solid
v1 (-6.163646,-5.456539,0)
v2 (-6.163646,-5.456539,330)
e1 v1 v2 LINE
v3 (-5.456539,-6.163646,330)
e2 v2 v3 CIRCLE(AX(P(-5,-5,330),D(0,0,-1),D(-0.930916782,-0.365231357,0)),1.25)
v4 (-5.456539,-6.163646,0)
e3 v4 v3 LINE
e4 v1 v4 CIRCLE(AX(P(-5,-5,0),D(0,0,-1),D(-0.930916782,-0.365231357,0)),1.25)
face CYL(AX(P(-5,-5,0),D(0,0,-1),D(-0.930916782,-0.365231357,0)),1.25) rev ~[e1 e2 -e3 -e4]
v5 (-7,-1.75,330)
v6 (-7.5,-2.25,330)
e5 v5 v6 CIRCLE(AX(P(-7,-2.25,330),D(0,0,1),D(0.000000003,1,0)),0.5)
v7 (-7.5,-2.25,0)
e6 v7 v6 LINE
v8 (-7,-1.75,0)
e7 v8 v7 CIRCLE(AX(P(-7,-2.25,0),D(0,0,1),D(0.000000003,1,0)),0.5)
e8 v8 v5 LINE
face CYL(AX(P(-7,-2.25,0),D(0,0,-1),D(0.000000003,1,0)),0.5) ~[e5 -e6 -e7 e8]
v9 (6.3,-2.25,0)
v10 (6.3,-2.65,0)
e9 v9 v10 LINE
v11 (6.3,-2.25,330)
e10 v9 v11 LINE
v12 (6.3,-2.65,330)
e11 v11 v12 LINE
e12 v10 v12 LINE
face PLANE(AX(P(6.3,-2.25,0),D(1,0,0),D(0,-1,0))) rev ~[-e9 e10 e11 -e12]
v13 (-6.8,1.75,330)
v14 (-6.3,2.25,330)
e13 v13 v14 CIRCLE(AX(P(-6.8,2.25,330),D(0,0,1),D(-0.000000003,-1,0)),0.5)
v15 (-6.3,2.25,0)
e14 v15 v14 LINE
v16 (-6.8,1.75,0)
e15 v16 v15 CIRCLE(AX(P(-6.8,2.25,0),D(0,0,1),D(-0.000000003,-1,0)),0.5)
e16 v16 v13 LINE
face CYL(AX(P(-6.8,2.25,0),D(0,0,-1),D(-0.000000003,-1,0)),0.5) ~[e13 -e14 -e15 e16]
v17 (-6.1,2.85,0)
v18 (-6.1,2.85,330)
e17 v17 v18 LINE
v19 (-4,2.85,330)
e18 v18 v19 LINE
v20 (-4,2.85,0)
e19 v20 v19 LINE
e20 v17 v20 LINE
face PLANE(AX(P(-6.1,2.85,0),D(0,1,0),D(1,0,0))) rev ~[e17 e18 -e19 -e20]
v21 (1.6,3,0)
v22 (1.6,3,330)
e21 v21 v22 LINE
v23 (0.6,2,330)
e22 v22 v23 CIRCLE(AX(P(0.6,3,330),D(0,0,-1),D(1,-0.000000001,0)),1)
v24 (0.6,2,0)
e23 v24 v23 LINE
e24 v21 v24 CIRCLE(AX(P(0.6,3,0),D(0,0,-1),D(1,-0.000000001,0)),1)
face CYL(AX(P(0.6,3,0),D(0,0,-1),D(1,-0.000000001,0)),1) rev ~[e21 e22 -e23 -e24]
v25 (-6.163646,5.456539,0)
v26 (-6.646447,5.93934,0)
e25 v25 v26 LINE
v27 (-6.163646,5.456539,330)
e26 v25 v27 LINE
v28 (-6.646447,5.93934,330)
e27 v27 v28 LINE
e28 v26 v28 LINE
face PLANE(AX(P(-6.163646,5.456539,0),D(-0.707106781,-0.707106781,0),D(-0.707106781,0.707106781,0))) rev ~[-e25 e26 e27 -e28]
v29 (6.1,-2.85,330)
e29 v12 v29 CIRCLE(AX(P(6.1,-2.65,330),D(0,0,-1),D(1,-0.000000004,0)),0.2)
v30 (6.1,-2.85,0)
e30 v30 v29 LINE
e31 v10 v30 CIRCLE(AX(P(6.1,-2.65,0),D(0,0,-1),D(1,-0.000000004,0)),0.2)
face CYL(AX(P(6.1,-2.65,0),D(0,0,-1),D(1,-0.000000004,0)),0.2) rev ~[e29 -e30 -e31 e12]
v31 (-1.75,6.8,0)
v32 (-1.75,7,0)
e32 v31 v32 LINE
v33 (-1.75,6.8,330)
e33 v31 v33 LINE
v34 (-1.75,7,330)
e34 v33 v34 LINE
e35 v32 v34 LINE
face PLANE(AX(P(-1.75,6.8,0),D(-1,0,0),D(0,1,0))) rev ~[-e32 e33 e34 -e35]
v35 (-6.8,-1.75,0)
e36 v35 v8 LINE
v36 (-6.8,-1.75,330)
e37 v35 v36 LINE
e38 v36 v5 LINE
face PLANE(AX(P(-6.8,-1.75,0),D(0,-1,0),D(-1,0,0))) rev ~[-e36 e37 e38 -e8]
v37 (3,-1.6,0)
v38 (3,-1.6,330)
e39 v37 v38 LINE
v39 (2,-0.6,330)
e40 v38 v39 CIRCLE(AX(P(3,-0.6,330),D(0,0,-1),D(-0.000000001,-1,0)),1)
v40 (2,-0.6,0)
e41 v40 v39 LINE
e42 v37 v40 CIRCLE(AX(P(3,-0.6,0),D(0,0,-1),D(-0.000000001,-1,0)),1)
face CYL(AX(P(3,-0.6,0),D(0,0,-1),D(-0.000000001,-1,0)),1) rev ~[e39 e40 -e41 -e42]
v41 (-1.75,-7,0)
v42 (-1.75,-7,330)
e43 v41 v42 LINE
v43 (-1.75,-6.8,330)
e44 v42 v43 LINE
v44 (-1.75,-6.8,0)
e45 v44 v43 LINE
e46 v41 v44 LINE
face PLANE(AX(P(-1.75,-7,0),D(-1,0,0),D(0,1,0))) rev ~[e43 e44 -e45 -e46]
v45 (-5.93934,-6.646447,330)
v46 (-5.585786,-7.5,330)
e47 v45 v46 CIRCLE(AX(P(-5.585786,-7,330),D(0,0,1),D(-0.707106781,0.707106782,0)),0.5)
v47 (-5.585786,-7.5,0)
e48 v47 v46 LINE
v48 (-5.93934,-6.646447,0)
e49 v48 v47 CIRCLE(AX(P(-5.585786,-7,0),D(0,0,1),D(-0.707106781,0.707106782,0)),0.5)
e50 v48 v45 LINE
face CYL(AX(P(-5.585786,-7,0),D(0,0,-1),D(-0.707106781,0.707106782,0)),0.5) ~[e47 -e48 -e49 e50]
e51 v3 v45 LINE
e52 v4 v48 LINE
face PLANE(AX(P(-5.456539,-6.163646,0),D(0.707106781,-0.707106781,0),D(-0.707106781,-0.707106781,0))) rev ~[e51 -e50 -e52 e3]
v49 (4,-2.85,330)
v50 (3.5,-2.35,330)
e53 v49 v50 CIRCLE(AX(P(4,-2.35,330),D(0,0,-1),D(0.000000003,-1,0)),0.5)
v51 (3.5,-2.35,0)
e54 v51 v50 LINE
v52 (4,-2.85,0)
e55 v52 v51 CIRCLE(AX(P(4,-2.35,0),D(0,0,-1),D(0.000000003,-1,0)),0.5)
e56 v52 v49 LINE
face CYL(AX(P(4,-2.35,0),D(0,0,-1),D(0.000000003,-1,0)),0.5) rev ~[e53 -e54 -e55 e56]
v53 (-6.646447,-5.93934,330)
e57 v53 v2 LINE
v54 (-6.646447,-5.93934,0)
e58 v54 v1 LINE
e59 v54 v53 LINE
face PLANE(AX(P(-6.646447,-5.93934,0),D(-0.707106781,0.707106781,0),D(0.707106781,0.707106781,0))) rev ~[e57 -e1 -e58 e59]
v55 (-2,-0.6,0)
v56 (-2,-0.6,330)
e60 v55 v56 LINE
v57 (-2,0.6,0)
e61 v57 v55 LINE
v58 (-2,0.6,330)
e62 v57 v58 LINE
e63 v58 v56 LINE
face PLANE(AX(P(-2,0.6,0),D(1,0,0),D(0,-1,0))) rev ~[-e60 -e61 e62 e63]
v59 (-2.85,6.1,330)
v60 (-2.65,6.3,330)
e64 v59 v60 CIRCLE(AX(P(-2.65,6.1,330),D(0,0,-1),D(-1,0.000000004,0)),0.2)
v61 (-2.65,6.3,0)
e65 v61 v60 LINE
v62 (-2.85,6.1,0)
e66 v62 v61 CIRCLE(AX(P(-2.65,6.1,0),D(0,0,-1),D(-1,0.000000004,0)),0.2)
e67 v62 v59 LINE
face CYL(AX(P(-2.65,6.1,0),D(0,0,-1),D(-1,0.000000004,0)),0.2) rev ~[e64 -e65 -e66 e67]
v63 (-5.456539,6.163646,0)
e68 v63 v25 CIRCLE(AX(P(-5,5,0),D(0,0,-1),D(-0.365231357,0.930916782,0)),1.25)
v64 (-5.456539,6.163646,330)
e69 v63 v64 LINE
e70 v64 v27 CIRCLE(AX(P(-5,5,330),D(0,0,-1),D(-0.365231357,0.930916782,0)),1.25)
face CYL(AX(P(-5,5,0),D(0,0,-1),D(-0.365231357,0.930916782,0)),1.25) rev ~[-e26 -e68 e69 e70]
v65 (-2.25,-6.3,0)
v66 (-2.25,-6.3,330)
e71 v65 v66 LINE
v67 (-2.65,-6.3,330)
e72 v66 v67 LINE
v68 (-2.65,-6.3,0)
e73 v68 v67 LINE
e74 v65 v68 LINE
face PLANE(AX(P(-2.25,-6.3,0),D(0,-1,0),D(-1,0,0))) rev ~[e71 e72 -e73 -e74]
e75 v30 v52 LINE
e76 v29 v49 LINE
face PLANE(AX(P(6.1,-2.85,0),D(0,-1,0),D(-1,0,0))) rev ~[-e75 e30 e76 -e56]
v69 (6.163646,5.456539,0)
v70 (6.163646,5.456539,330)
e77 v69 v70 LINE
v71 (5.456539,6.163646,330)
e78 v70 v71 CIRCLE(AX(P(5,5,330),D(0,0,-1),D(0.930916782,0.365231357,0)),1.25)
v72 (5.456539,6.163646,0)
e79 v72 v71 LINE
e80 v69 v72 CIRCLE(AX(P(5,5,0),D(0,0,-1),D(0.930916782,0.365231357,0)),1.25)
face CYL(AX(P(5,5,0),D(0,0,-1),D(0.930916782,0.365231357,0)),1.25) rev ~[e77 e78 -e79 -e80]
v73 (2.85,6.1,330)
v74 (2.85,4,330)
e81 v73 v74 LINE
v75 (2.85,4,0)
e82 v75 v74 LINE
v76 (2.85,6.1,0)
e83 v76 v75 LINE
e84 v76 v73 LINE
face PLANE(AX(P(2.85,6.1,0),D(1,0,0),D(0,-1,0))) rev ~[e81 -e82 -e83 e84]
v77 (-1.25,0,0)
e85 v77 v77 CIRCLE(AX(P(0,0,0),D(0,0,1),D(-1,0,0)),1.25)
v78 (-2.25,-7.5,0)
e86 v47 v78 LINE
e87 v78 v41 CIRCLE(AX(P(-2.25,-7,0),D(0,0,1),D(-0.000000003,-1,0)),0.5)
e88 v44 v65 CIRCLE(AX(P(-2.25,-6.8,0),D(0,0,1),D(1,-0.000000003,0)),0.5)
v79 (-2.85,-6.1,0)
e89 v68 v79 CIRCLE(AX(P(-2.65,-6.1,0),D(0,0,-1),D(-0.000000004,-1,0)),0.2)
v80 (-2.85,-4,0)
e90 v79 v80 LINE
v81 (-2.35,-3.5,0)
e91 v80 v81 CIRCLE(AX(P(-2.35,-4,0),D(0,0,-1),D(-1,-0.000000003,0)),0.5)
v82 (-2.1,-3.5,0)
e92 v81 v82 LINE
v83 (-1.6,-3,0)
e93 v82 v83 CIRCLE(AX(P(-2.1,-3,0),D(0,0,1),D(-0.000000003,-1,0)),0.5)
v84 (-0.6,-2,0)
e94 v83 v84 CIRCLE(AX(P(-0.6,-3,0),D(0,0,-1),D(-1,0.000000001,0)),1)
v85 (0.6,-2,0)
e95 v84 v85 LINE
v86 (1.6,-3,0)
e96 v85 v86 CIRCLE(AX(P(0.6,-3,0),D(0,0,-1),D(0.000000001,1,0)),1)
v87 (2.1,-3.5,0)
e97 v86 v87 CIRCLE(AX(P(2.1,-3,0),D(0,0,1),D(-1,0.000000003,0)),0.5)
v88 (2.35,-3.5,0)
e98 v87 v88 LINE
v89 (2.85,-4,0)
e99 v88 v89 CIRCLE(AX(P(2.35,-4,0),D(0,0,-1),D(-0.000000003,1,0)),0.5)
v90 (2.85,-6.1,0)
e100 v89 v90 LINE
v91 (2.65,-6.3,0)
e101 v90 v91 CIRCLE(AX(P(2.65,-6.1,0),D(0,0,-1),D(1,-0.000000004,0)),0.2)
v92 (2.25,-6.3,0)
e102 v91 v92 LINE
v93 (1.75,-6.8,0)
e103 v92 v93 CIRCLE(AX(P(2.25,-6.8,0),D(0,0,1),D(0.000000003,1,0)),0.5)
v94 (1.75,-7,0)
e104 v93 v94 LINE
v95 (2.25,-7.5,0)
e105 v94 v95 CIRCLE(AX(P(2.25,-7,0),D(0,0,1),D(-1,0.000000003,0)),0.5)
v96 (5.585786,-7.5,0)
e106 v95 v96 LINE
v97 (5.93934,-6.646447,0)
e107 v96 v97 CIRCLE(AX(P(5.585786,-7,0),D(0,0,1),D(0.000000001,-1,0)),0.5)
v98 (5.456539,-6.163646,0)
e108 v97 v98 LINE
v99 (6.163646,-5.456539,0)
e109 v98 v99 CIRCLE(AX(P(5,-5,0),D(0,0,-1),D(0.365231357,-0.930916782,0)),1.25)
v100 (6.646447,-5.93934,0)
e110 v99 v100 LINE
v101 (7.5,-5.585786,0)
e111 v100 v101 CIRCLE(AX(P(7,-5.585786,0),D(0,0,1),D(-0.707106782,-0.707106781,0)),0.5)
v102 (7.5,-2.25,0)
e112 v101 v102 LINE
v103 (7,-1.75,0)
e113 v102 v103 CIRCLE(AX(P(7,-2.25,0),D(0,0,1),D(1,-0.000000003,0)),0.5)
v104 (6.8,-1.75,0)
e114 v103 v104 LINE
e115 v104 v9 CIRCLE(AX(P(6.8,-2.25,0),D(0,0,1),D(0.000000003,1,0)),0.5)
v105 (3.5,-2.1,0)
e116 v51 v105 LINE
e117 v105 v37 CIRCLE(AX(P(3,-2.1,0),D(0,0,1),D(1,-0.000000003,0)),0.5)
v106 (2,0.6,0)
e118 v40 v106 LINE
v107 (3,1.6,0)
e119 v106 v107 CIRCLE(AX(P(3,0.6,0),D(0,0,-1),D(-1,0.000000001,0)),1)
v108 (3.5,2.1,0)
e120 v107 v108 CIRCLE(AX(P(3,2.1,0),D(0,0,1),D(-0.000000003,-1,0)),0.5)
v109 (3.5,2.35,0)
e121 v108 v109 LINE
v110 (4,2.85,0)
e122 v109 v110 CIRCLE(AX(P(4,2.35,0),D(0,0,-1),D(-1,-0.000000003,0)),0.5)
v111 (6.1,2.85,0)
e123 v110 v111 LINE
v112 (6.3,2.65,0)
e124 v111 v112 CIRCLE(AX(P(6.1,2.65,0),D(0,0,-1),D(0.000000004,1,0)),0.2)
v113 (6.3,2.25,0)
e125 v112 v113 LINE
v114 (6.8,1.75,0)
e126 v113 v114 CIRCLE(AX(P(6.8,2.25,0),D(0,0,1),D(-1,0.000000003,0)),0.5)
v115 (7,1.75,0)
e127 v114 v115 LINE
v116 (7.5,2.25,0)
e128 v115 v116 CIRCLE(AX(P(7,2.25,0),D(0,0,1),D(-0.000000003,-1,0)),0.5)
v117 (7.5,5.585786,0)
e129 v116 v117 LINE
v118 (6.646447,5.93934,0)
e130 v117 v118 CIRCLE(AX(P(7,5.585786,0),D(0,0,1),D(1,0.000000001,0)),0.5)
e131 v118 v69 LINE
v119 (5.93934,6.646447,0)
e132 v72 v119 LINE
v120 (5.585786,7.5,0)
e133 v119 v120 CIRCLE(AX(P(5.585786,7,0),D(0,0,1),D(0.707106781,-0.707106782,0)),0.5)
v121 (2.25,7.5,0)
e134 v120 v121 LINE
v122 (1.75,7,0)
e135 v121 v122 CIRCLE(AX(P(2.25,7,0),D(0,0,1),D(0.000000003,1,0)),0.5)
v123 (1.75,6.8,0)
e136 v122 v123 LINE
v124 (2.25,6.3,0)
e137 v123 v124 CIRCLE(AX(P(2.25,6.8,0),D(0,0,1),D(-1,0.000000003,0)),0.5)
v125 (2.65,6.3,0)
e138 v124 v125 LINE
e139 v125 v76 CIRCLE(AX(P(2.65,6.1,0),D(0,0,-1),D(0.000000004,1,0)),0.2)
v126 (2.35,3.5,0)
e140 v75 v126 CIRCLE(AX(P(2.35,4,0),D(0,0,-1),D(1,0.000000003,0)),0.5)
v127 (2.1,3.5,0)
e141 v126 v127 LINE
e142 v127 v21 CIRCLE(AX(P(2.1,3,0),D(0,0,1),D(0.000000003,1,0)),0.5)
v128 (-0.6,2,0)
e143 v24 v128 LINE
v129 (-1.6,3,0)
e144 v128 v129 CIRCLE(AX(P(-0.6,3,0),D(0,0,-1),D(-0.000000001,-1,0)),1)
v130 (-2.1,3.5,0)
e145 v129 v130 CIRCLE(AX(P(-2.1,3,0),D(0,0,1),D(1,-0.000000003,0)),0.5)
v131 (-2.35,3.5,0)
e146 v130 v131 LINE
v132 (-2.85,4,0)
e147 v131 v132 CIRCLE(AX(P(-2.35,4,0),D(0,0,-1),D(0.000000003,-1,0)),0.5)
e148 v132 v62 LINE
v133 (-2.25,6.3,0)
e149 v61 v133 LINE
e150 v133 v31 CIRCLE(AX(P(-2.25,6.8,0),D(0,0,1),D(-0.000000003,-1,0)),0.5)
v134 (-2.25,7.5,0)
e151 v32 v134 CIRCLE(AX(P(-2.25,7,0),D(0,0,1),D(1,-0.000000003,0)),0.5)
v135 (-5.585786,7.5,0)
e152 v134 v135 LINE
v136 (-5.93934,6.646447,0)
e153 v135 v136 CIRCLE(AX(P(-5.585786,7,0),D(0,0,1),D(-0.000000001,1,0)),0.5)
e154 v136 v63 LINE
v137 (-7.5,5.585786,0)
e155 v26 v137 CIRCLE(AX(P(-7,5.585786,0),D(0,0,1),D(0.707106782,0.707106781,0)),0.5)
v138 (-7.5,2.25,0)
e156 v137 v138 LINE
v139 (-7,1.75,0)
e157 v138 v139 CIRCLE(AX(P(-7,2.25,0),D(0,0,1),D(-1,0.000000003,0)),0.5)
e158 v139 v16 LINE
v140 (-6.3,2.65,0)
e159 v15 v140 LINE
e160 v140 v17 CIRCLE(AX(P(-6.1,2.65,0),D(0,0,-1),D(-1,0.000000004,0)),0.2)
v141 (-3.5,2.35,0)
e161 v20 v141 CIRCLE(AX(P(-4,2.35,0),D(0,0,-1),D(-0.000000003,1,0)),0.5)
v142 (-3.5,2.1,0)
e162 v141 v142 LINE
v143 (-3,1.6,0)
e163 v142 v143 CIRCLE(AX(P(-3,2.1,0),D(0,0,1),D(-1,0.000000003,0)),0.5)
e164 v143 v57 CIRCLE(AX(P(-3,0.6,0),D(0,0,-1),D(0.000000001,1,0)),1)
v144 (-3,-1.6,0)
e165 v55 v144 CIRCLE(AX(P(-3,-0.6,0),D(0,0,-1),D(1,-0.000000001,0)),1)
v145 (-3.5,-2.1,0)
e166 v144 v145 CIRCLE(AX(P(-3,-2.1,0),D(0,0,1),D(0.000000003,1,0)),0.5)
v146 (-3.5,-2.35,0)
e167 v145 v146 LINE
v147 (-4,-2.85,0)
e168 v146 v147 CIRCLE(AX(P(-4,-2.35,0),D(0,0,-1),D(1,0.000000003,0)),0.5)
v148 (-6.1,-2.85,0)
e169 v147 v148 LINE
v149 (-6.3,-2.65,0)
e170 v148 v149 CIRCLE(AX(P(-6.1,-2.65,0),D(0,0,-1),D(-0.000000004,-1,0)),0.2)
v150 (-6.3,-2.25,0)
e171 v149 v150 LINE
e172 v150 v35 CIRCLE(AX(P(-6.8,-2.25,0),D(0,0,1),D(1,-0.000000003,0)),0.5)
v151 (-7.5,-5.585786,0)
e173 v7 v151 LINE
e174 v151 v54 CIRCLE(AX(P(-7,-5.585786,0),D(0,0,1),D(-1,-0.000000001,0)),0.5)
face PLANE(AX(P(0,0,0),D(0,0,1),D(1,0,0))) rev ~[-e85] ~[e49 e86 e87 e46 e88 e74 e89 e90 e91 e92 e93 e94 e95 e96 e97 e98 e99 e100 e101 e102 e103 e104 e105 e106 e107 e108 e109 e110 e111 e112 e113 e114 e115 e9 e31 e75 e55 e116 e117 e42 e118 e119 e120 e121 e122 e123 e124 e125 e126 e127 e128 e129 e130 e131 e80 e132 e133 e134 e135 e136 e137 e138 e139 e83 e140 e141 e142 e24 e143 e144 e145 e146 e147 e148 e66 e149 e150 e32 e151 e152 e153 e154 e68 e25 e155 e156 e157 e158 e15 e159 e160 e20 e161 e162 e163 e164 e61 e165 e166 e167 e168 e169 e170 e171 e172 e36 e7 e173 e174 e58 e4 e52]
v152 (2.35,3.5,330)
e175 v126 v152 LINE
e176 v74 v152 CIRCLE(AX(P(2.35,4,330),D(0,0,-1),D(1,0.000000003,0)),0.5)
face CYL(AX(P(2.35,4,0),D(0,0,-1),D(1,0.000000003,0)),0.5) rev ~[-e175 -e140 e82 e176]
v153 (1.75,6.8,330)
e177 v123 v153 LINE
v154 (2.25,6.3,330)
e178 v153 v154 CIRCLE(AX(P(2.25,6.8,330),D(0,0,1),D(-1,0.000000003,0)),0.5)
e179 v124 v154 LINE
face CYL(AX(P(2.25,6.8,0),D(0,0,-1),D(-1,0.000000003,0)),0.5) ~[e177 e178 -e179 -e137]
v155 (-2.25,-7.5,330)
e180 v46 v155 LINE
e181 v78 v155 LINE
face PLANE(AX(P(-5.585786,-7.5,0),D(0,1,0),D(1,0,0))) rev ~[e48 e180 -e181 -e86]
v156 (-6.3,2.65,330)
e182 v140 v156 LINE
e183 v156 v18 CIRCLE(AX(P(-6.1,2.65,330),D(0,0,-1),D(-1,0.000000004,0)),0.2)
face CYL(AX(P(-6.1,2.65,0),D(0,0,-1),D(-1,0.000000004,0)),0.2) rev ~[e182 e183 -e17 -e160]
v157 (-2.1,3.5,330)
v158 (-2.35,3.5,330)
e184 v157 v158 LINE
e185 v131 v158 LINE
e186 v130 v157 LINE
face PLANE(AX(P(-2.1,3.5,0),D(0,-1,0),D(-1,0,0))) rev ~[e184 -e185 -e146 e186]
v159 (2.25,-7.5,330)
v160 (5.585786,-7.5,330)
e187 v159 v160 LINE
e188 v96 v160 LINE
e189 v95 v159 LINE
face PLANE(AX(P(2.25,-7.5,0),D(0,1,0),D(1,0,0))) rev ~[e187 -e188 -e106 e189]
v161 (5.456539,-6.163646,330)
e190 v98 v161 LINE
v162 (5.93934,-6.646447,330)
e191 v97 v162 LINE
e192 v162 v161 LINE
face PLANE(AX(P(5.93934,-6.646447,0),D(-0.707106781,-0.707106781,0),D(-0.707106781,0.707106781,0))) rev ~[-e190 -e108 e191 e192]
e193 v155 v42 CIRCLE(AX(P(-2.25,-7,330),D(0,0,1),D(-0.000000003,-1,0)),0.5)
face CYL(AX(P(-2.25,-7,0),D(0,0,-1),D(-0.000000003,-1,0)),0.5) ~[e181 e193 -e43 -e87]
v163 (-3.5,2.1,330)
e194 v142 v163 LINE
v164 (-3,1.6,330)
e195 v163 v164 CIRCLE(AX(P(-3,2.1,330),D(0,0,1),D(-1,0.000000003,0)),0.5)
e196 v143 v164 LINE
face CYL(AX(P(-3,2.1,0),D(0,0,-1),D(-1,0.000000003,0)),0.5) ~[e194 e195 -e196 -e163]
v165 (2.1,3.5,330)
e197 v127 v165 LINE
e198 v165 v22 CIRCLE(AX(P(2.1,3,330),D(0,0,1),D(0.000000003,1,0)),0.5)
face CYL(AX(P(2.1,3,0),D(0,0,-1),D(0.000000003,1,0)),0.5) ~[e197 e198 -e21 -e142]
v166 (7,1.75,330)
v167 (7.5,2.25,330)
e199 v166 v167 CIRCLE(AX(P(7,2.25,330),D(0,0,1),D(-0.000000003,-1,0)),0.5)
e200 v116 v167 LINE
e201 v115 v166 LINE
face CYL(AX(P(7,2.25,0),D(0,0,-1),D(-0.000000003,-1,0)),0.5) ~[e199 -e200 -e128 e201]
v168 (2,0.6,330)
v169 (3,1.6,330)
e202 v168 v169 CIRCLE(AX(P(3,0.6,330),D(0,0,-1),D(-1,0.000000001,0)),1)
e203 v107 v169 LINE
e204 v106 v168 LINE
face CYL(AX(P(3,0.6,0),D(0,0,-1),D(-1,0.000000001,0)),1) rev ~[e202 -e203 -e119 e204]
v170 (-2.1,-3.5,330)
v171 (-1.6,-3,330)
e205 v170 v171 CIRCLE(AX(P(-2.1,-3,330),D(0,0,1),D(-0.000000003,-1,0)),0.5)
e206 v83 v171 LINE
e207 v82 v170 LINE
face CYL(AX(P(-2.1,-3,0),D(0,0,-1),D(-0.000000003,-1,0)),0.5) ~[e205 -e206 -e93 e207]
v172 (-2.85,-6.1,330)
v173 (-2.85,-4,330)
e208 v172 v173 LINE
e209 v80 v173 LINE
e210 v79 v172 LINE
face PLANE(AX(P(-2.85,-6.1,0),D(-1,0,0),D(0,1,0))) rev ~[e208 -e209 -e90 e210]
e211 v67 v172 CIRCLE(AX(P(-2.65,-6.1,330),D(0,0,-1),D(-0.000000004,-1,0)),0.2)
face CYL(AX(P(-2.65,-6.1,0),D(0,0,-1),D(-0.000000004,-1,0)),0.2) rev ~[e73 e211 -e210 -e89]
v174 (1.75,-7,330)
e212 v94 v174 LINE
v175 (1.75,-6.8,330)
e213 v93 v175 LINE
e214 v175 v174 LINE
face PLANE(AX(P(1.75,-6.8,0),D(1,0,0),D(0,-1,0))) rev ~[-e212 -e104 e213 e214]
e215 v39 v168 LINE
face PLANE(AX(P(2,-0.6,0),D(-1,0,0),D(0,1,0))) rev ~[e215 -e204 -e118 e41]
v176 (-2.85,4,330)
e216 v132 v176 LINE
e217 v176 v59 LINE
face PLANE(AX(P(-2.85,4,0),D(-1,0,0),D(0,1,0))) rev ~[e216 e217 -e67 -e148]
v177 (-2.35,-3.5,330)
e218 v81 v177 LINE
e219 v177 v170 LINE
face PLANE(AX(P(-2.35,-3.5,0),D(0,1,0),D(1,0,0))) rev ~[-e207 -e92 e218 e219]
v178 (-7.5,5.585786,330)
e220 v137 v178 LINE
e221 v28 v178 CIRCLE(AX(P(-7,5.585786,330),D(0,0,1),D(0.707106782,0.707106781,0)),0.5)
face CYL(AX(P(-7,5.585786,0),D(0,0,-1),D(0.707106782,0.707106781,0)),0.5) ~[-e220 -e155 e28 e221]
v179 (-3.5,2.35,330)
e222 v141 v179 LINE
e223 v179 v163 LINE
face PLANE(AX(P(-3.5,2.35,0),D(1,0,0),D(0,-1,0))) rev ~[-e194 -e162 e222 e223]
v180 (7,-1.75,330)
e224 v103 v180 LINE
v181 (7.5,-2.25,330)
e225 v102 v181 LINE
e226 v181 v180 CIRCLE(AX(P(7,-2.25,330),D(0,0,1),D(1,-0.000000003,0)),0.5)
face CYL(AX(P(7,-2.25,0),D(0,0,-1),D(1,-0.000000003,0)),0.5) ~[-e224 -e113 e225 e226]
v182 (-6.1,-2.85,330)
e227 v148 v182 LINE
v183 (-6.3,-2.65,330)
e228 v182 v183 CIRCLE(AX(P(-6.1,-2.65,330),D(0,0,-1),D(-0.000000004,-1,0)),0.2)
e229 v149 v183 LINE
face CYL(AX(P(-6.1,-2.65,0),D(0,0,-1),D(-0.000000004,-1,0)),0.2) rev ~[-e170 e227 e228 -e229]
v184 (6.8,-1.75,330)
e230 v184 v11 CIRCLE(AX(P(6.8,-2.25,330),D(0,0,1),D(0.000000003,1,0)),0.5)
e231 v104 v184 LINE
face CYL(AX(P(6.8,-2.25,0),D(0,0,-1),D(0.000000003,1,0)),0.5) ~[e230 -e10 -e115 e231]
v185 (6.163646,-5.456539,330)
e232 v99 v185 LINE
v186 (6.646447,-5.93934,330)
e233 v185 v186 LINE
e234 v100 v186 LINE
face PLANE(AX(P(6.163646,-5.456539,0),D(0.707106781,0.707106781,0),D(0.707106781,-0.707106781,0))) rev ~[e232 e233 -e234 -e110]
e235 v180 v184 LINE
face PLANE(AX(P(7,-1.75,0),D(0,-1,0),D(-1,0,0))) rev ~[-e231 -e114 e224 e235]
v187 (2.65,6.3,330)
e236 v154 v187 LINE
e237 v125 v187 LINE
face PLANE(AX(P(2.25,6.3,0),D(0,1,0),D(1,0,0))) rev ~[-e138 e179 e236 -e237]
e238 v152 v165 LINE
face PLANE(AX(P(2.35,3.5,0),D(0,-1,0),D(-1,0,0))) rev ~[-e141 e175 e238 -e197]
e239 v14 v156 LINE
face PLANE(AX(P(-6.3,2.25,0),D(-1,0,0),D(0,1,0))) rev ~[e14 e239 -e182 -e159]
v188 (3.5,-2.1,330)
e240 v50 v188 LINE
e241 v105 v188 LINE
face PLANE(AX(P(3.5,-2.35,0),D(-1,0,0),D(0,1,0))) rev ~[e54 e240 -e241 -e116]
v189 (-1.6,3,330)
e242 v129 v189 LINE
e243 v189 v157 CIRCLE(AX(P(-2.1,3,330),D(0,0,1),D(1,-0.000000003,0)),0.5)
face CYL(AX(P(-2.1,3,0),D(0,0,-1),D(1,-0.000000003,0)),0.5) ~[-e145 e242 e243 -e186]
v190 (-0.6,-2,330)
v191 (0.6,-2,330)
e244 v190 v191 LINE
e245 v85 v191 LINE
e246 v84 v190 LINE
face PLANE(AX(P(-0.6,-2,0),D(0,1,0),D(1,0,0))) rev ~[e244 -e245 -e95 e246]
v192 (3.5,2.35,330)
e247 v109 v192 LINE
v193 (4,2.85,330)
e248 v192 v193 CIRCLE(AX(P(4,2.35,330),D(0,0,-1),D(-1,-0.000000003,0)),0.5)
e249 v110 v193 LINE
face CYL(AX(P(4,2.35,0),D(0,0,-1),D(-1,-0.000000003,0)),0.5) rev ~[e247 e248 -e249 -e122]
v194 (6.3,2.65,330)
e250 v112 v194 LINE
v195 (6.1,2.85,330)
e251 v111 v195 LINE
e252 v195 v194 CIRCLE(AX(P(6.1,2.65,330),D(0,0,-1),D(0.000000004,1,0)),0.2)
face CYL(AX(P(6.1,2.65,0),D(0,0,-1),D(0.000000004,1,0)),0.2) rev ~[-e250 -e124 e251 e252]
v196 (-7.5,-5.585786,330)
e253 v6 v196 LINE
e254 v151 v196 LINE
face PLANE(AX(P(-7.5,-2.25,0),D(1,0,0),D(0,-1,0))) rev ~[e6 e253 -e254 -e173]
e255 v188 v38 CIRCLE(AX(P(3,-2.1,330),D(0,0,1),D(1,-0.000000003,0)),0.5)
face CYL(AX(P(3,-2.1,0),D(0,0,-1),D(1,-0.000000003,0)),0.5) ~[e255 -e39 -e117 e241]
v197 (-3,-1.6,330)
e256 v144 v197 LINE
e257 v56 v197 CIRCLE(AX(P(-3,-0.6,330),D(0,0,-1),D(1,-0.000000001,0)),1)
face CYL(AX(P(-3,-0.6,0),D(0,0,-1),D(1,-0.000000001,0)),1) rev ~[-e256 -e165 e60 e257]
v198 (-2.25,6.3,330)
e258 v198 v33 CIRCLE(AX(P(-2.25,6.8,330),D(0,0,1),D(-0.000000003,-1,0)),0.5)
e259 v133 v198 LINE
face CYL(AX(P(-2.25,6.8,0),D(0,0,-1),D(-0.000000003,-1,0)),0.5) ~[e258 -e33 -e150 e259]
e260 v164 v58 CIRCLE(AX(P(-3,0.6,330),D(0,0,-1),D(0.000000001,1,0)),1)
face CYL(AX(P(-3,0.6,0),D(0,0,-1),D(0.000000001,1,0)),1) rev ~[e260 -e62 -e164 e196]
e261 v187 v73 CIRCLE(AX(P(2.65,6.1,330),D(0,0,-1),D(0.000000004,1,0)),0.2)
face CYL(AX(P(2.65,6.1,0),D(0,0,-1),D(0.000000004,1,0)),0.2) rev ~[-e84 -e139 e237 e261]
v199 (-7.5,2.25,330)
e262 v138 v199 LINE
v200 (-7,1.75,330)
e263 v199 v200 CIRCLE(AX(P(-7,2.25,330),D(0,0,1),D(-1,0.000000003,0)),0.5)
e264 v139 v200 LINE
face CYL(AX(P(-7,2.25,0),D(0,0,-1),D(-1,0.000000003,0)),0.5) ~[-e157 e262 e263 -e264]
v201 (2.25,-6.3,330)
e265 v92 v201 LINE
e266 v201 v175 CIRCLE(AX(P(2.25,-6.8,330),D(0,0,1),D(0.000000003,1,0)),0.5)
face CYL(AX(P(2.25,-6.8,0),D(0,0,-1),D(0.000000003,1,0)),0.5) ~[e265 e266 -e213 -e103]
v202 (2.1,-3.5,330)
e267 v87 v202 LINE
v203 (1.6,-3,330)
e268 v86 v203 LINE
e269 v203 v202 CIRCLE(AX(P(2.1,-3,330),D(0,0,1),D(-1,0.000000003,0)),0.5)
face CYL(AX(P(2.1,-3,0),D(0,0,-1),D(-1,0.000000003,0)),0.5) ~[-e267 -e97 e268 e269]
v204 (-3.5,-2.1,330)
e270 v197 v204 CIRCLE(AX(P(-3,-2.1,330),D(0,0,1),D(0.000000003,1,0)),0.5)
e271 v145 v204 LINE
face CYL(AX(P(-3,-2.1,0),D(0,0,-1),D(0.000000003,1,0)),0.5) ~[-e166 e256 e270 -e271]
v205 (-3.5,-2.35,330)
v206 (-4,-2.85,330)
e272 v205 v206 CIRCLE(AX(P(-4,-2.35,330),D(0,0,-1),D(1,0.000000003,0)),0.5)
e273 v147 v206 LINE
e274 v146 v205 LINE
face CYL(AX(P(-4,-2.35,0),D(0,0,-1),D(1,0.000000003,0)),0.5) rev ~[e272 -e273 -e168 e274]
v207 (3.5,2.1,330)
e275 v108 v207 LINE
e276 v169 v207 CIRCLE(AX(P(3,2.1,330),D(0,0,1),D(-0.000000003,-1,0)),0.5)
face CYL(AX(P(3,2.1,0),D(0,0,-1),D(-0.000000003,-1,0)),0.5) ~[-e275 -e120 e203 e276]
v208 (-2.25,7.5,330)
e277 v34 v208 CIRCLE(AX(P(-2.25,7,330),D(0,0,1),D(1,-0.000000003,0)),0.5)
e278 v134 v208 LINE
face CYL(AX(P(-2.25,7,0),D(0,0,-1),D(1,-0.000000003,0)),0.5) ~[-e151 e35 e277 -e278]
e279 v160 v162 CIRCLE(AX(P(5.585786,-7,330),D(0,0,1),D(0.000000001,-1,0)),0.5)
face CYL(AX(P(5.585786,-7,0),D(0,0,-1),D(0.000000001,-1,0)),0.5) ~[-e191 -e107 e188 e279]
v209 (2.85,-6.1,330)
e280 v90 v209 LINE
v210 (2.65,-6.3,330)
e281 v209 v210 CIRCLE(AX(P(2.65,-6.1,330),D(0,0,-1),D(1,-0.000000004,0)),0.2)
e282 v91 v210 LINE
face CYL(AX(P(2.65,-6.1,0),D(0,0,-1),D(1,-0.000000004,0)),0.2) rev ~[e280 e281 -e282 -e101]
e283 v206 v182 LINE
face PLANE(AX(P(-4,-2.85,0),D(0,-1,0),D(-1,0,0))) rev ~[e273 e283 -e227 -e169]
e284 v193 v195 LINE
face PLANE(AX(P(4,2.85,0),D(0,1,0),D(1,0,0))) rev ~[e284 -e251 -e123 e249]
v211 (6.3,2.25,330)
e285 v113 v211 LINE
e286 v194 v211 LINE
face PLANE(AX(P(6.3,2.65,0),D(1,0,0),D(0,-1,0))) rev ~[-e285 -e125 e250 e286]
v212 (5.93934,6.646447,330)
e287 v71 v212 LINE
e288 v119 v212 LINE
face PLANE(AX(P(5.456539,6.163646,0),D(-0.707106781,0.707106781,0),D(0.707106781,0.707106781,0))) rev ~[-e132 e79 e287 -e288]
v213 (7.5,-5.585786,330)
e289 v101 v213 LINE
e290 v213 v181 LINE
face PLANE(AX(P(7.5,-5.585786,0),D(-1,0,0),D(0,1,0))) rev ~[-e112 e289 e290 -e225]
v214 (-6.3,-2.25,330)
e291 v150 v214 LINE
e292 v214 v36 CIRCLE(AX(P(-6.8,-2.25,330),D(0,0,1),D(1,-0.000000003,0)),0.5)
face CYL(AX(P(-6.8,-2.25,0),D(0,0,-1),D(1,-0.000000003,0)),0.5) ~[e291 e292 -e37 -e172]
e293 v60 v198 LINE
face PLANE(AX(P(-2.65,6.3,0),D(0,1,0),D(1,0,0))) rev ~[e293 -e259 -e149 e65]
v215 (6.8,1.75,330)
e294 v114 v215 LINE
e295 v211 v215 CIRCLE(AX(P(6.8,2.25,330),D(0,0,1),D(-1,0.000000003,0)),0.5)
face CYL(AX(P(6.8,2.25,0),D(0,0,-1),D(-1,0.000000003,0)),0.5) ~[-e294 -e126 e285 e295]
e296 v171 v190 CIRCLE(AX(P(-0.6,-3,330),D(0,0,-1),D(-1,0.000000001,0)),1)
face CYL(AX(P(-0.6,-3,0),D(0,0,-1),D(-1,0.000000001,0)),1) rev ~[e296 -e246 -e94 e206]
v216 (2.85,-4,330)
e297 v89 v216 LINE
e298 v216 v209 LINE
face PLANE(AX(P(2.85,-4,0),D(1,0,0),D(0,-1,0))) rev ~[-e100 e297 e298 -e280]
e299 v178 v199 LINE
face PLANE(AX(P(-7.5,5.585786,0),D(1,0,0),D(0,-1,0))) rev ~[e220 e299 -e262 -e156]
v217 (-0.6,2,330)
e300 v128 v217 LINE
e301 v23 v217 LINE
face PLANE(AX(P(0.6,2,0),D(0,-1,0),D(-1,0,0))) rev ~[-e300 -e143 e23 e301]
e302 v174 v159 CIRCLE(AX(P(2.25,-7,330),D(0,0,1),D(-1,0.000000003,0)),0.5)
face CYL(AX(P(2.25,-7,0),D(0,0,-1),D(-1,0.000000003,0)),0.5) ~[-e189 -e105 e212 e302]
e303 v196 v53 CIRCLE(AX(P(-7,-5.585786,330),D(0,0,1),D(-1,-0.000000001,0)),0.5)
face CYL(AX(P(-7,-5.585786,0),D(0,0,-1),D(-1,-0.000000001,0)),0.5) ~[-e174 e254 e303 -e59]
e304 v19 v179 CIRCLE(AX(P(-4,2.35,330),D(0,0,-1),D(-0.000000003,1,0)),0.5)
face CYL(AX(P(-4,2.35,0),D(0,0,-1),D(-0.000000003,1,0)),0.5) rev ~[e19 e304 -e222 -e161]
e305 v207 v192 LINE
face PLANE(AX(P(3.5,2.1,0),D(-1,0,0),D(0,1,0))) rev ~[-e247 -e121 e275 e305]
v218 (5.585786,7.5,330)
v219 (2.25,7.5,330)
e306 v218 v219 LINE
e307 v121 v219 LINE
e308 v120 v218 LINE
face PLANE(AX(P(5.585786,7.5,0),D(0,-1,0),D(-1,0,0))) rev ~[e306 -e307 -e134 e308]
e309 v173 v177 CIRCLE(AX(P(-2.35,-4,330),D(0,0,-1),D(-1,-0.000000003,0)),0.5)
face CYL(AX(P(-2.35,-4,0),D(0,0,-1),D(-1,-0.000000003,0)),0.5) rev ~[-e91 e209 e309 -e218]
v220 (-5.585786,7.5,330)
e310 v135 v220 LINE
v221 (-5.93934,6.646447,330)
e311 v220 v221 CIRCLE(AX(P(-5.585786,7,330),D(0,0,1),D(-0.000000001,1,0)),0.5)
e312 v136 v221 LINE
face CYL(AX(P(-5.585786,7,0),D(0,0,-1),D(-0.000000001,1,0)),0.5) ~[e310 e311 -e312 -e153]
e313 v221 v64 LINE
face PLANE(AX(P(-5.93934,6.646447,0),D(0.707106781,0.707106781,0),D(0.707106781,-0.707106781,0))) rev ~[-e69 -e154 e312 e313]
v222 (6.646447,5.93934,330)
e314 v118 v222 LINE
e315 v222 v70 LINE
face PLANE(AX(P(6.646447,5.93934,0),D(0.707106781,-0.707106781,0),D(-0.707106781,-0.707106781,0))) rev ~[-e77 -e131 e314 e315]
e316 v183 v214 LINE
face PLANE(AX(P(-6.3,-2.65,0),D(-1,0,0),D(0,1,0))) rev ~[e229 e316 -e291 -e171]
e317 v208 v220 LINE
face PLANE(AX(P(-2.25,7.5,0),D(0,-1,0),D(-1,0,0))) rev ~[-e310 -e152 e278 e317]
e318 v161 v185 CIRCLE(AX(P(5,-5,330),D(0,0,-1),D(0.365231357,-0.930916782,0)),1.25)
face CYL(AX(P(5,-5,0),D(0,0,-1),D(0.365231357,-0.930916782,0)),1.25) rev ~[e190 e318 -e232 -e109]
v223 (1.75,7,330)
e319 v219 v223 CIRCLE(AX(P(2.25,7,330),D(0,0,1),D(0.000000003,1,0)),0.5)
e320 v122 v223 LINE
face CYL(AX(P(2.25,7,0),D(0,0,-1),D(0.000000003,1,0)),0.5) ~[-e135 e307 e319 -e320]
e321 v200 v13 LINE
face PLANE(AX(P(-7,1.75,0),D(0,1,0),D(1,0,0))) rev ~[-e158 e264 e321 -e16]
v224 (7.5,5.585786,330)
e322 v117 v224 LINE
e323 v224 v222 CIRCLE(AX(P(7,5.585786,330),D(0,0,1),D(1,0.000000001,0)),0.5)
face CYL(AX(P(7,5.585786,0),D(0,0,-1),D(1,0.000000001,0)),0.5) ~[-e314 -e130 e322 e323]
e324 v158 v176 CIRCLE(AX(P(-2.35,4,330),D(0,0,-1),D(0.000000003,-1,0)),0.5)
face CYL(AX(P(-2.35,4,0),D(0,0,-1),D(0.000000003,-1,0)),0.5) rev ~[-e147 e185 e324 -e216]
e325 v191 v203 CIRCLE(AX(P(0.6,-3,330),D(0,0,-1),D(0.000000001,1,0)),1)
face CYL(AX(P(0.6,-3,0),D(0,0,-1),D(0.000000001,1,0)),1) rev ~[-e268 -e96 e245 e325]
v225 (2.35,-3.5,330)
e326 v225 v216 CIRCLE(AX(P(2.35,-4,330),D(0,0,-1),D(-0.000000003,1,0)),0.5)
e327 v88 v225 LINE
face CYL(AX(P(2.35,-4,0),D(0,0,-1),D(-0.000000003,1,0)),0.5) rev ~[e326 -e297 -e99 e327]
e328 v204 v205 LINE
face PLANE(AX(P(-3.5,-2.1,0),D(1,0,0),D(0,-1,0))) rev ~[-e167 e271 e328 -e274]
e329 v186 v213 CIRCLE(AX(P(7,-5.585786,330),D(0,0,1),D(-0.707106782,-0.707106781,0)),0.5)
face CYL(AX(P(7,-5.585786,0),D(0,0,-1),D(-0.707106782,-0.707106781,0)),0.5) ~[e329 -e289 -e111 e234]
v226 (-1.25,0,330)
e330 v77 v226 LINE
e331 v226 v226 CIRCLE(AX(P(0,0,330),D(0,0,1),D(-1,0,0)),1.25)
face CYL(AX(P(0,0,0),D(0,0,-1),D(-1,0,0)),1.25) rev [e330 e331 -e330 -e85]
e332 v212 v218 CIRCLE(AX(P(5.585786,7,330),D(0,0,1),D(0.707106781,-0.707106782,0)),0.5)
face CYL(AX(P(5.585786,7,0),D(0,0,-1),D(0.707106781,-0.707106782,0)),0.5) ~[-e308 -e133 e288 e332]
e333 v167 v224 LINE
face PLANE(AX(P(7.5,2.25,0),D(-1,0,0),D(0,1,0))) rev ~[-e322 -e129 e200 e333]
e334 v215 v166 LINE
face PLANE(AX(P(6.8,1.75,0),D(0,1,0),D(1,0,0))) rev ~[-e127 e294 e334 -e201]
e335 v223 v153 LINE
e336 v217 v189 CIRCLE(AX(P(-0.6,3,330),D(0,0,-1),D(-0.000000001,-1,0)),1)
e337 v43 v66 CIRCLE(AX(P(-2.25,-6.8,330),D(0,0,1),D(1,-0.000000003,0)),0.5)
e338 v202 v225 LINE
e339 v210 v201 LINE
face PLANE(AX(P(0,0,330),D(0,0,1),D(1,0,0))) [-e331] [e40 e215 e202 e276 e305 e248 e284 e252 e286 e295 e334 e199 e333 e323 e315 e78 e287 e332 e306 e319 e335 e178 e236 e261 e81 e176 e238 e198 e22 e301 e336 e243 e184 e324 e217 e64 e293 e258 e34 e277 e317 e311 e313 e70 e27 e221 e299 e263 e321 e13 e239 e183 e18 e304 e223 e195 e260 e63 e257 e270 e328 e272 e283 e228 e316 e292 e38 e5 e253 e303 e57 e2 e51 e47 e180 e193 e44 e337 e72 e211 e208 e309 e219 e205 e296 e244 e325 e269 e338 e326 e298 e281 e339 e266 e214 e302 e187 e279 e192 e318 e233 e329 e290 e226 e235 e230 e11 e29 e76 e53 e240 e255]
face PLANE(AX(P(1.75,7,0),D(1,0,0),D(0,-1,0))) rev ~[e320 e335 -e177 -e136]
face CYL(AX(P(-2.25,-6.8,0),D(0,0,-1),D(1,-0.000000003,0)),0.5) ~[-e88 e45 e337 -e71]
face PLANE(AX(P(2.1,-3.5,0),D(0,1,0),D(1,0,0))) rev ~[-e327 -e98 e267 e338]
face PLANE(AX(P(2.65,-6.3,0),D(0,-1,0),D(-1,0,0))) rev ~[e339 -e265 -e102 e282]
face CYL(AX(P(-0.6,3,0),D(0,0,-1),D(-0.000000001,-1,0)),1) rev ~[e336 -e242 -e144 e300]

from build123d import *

# Parameters (mm, degrees)
SKETCH1_R           = 1.25
BOSS_EXTRUDE1_DEPTH = 330


with BuildPart() as part:
    # Sketch1 → Boss-Extrude1 (new body)
    with BuildSketch(Plane.XY):
        with BuildLine():
            Line((6.646446609, 5.939339828), (6.163645978, 5.456539197))
            ThreePointArc((6.163645978, 5.456539197), (4.116116524, 4.116116524), (5.456539197, 6.163645978))
            Line((5.456539197, 6.163645978), (5.939339828, 6.646446609))
            ThreePointArc((5.939339828, 6.646446609), (6.047726204, 7.191341716), (5.585786438, 7.5))
            Line((5.585786438, 7.5), (2.25, 7.5))
            ThreePointArc((2.25, 7.5), (1.896446609, 7.353553391), (1.75, 7))
            Line((1.75, 7), (1.75, 6.8))
            ThreePointArc((1.75, 6.8), (1.896446609, 6.446446609), (2.25, 6.3))
            Line((2.25, 6.3), (2.65, 6.3))
            ThreePointArc((2.65, 6.3), (2.791421356, 6.241421356), (2.85, 6.1))
            Line((2.85, 6.1), (2.85, 4))
            ThreePointArc((2.85, 4), (2.703553391, 3.646446609), (2.35, 3.5))
            Line((2.35, 3.5), (2.1, 3.5))
            ThreePointArc((2.1, 3.5), (1.746446609, 3.353553391), (1.6, 3))
            ThreePointArc((1.6, 3), (1.307106781, 2.292893219), (0.6, 2))
            Line((0.6, 2), (-0.6, 2))
            ThreePointArc((-0.6, 2), (-1.307106781, 2.292893219), (-1.6, 3))
            ThreePointArc((-1.6, 3), (-1.746446609, 3.353553391), (-2.1, 3.5))
            Line((-2.1, 3.5), (-2.35, 3.5))
            ThreePointArc((-2.35, 3.5), (-2.703553391, 3.646446609), (-2.85, 4))
            Line((-2.85, 4), (-2.85, 6.1))
            ThreePointArc((-2.85, 6.1), (-2.791421356, 6.241421356), (-2.65, 6.3))
            Line((-2.65, 6.3), (-2.25, 6.3))
            ThreePointArc((-2.25, 6.3), (-1.896446609, 6.446446609), (-1.75, 6.8))
            Line((-1.75, 6.8), (-1.75, 7))
            ThreePointArc((-1.75, 7), (-1.896446609, 7.353553391), (-2.25, 7.5))
            Line((-2.25, 7.5), (-5.585786438, 7.5))
            ThreePointArc((-5.585786438, 7.5), (-6.047726204, 7.191341716), (-5.939339828, 6.646446609))
            Line((-5.939339828, 6.646446609), (-5.456539197, 6.163645978))
            ThreePointArc((-5.456539197, 6.163645978), (-4.116116524, 4.116116524), (-6.163645978, 5.456539197))
            Line((-6.163645978, 5.456539197), (-6.646446609, 5.939339828))
            ThreePointArc((-6.646446609, 5.939339828), (-7.191341716, 6.047726204), (-7.5, 5.585786438))
            Line((-7.5, 5.585786438), (-7.5, 2.25))
            ThreePointArc((-7.5, 2.25), (-7.353553391, 1.896446609), (-7, 1.75))
            Line((-7, 1.75), (-6.8, 1.75))
            ThreePointArc((-6.8, 1.75), (-6.446446609, 1.896446609), (-6.3, 2.25))
            Line((-6.3, 2.25), (-6.3, 2.65))
            ThreePointArc((-6.3, 2.65), (-6.241421356, 2.791421356), (-6.1, 2.85))
            Line((-6.1, 2.85), (-4, 2.85))
            ThreePointArc((-4, 2.85), (-3.646446609, 2.703553391), (-3.5, 2.35))
            Line((-3.5, 2.35), (-3.5, 2.1))
            ThreePointArc((-3.5, 2.1), (-3.353553391, 1.746446609), (-3, 1.6))
            ThreePointArc((-3, 1.6), (-2.292893219, 1.307106781), (-2, 0.6))
            Line((-2, 0.6), (-2, -0.6))
            ThreePointArc((-2, -0.6), (-2.292893219, -1.307106781), (-3, -1.6))
            ThreePointArc((-3, -1.6), (-3.353553391, -1.746446609), (-3.5, -2.1))
            Line((-3.5, -2.1), (-3.5, -2.35))
            ThreePointArc((-3.5, -2.35), (-3.646446609, -2.703553391), (-4, -2.85))
            Line((-4, -2.85), (-6.1, -2.85))
            ThreePointArc((-6.1, -2.85), (-6.241421356, -2.791421356), (-6.3, -2.65))
            Line((-6.3, -2.65), (-6.3, -2.25))
            ThreePointArc((-6.3, -2.25), (-6.446446609, -1.896446609), (-6.8, -1.75))
            Line((-6.8, -1.75), (-7, -1.75))
            ThreePointArc((-7, -1.75), (-7.353553391, -1.896446609), (-7.5, -2.25))
            Line((-7.5, -2.25), (-7.5, -5.585786438))
            ThreePointArc((-7.5, -5.585786438), (-7.191341716, -6.047726204), (-6.646446609, -5.939339828))
            Line((-6.646446609, -5.939339828), (-6.163645978, -5.456539197))
            ThreePointArc((-6.163645978, -5.456539197), (-4.116116524, -4.116116524), (-5.456539197, -6.163645978))
            Line((-5.456539197, -6.163645978), (-5.939339828, -6.646446609))
            ThreePointArc((-5.939339828, -6.646446609), (-6.047726204, -7.191341716), (-5.585786438, -7.5))
            Line((-5.585786438, -7.5), (-2.25, -7.5))
            ThreePointArc((-2.25, -7.5), (-1.896446609, -7.353553391), (-1.75, -7))
            Line((-1.75, -7), (-1.75, -6.8))
            ThreePointArc((-1.75, -6.8), (-1.896446609, -6.446446609), (-2.25, -6.3))
            Line((-2.25, -6.3), (-2.65, -6.3))
            ThreePointArc((-2.65, -6.3), (-2.791421356, -6.241421356), (-2.85, -6.1))
            Line((-2.85, -6.1), (-2.85, -4))
            ThreePointArc((-2.85, -4), (-2.703553391, -3.646446609), (-2.35, -3.5))
            Line((-2.35, -3.5), (-2.1, -3.5))
            ThreePointArc((-2.1, -3.5), (-1.746446609, -3.353553391), (-1.6, -3))
            ThreePointArc((-1.6, -3), (-1.307106781, -2.292893219), (-0.6, -2))
            Line((-0.6, -2), (0.6, -2))
            ThreePointArc((0.6, -2), (1.307106781, -2.292893219), (1.6, -3))
            ThreePointArc((1.6, -3), (1.746446609, -3.353553391), (2.1, -3.5))
            Line((2.1, -3.5), (2.35, -3.5))
            ThreePointArc((2.35, -3.5), (2.703553391, -3.646446609), (2.85, -4))
            Line((2.85, -4), (2.85, -6.1))
            ThreePointArc((2.85, -6.1), (2.791421356, -6.241421356), (2.65, -6.3))
            Line((2.65, -6.3), (2.25, -6.3))
            ThreePointArc((2.25, -6.3), (1.896446609, -6.446446609), (1.75, -6.8))
            Line((1.75, -6.8), (1.75, -7))
            ThreePointArc((1.75, -7), (1.896446609, -7.353553391), (2.25, -7.5))
            Line((2.25, -7.5), (5.585786438, -7.5))
            ThreePointArc((5.585786438, -7.5), (6.047726204, -7.191341716), (5.939339828, -6.646446609))
            Line((5.939339828, -6.646446609), (5.456539197, -6.163645978))
            ThreePointArc((5.456539197, -6.163645978), (4.116116524, -4.116116524), (6.163645978, -5.456539197))
            Line((6.163645978, -5.456539197), (6.646446609, -5.939339828))
            ThreePointArc((6.646446609, -5.939339828), (7.191341716, -6.047726204), (7.5, -5.585786438))
            Line((7.5, -5.585786438), (7.5, -2.25))
            ThreePointArc((7.5, -2.25), (7.353553391, -1.896446609), (7, -1.75))
            Line((7, -1.75), (6.8, -1.75))
            ThreePointArc((6.8, -1.75), (6.446446609, -1.896446609), (6.3, -2.25))
            Line((6.3, -2.25), (6.3, -2.65))
            ThreePointArc((6.3, -2.65), (6.241421356, -2.791421356), (6.1, -2.85))
            Line((6.1, -2.85), (4, -2.85))
            ThreePointArc((4, -2.85), (3.646446609, -2.703553391), (3.5, -2.35))
            Line((3.5, -2.35), (3.5, -2.1))
            ThreePointArc((3.5, -2.1), (3.353553391, -1.746446609), (3, -1.6))
            ThreePointArc((3, -1.6), (2.292893219, -1.307106781), (2, -0.6))
            Line((2, -0.6), (2, 0.6))
            ThreePointArc((2, 0.6), (2.292893219, 1.307106781), (3, 1.6))
            ThreePointArc((3, 1.6), (3.353553391, 1.746446609), (3.5, 2.1))
            Line((3.5, 2.1), (3.5, 2.35))
            ThreePointArc((3.5, 2.35), (3.646446609, 2.703553391), (4, 2.85))
            Line((4, 2.85), (6.1, 2.85))
            ThreePointArc((6.1, 2.85), (6.241421356, 2.791421356), (6.3, 2.65))
            Line((6.3, 2.65), (6.3, 2.25))
            ThreePointArc((6.3, 2.25), (6.446446609, 1.896446609), (6.8, 1.75))
            Line((6.8, 1.75), (7, 1.75))
            ThreePointArc((7, 1.75), (7.353553391, 1.896446609), (7.5, 2.25))
            Line((7.5, 2.25), (7.5, 5.585786438))
            ThreePointArc((7.5, 5.585786438), (7.191341716, 6.047726204), (6.646446609, 5.939339828))
        make_face()
        with Locations(Location((0, 0, 0), (0, 0, 180))):
            Circle(SKETCH1_R, mode=Mode.SUBTRACT)
    extrude(amount=BOSS_EXTRUDE1_DEPTH)


solid = part.part
